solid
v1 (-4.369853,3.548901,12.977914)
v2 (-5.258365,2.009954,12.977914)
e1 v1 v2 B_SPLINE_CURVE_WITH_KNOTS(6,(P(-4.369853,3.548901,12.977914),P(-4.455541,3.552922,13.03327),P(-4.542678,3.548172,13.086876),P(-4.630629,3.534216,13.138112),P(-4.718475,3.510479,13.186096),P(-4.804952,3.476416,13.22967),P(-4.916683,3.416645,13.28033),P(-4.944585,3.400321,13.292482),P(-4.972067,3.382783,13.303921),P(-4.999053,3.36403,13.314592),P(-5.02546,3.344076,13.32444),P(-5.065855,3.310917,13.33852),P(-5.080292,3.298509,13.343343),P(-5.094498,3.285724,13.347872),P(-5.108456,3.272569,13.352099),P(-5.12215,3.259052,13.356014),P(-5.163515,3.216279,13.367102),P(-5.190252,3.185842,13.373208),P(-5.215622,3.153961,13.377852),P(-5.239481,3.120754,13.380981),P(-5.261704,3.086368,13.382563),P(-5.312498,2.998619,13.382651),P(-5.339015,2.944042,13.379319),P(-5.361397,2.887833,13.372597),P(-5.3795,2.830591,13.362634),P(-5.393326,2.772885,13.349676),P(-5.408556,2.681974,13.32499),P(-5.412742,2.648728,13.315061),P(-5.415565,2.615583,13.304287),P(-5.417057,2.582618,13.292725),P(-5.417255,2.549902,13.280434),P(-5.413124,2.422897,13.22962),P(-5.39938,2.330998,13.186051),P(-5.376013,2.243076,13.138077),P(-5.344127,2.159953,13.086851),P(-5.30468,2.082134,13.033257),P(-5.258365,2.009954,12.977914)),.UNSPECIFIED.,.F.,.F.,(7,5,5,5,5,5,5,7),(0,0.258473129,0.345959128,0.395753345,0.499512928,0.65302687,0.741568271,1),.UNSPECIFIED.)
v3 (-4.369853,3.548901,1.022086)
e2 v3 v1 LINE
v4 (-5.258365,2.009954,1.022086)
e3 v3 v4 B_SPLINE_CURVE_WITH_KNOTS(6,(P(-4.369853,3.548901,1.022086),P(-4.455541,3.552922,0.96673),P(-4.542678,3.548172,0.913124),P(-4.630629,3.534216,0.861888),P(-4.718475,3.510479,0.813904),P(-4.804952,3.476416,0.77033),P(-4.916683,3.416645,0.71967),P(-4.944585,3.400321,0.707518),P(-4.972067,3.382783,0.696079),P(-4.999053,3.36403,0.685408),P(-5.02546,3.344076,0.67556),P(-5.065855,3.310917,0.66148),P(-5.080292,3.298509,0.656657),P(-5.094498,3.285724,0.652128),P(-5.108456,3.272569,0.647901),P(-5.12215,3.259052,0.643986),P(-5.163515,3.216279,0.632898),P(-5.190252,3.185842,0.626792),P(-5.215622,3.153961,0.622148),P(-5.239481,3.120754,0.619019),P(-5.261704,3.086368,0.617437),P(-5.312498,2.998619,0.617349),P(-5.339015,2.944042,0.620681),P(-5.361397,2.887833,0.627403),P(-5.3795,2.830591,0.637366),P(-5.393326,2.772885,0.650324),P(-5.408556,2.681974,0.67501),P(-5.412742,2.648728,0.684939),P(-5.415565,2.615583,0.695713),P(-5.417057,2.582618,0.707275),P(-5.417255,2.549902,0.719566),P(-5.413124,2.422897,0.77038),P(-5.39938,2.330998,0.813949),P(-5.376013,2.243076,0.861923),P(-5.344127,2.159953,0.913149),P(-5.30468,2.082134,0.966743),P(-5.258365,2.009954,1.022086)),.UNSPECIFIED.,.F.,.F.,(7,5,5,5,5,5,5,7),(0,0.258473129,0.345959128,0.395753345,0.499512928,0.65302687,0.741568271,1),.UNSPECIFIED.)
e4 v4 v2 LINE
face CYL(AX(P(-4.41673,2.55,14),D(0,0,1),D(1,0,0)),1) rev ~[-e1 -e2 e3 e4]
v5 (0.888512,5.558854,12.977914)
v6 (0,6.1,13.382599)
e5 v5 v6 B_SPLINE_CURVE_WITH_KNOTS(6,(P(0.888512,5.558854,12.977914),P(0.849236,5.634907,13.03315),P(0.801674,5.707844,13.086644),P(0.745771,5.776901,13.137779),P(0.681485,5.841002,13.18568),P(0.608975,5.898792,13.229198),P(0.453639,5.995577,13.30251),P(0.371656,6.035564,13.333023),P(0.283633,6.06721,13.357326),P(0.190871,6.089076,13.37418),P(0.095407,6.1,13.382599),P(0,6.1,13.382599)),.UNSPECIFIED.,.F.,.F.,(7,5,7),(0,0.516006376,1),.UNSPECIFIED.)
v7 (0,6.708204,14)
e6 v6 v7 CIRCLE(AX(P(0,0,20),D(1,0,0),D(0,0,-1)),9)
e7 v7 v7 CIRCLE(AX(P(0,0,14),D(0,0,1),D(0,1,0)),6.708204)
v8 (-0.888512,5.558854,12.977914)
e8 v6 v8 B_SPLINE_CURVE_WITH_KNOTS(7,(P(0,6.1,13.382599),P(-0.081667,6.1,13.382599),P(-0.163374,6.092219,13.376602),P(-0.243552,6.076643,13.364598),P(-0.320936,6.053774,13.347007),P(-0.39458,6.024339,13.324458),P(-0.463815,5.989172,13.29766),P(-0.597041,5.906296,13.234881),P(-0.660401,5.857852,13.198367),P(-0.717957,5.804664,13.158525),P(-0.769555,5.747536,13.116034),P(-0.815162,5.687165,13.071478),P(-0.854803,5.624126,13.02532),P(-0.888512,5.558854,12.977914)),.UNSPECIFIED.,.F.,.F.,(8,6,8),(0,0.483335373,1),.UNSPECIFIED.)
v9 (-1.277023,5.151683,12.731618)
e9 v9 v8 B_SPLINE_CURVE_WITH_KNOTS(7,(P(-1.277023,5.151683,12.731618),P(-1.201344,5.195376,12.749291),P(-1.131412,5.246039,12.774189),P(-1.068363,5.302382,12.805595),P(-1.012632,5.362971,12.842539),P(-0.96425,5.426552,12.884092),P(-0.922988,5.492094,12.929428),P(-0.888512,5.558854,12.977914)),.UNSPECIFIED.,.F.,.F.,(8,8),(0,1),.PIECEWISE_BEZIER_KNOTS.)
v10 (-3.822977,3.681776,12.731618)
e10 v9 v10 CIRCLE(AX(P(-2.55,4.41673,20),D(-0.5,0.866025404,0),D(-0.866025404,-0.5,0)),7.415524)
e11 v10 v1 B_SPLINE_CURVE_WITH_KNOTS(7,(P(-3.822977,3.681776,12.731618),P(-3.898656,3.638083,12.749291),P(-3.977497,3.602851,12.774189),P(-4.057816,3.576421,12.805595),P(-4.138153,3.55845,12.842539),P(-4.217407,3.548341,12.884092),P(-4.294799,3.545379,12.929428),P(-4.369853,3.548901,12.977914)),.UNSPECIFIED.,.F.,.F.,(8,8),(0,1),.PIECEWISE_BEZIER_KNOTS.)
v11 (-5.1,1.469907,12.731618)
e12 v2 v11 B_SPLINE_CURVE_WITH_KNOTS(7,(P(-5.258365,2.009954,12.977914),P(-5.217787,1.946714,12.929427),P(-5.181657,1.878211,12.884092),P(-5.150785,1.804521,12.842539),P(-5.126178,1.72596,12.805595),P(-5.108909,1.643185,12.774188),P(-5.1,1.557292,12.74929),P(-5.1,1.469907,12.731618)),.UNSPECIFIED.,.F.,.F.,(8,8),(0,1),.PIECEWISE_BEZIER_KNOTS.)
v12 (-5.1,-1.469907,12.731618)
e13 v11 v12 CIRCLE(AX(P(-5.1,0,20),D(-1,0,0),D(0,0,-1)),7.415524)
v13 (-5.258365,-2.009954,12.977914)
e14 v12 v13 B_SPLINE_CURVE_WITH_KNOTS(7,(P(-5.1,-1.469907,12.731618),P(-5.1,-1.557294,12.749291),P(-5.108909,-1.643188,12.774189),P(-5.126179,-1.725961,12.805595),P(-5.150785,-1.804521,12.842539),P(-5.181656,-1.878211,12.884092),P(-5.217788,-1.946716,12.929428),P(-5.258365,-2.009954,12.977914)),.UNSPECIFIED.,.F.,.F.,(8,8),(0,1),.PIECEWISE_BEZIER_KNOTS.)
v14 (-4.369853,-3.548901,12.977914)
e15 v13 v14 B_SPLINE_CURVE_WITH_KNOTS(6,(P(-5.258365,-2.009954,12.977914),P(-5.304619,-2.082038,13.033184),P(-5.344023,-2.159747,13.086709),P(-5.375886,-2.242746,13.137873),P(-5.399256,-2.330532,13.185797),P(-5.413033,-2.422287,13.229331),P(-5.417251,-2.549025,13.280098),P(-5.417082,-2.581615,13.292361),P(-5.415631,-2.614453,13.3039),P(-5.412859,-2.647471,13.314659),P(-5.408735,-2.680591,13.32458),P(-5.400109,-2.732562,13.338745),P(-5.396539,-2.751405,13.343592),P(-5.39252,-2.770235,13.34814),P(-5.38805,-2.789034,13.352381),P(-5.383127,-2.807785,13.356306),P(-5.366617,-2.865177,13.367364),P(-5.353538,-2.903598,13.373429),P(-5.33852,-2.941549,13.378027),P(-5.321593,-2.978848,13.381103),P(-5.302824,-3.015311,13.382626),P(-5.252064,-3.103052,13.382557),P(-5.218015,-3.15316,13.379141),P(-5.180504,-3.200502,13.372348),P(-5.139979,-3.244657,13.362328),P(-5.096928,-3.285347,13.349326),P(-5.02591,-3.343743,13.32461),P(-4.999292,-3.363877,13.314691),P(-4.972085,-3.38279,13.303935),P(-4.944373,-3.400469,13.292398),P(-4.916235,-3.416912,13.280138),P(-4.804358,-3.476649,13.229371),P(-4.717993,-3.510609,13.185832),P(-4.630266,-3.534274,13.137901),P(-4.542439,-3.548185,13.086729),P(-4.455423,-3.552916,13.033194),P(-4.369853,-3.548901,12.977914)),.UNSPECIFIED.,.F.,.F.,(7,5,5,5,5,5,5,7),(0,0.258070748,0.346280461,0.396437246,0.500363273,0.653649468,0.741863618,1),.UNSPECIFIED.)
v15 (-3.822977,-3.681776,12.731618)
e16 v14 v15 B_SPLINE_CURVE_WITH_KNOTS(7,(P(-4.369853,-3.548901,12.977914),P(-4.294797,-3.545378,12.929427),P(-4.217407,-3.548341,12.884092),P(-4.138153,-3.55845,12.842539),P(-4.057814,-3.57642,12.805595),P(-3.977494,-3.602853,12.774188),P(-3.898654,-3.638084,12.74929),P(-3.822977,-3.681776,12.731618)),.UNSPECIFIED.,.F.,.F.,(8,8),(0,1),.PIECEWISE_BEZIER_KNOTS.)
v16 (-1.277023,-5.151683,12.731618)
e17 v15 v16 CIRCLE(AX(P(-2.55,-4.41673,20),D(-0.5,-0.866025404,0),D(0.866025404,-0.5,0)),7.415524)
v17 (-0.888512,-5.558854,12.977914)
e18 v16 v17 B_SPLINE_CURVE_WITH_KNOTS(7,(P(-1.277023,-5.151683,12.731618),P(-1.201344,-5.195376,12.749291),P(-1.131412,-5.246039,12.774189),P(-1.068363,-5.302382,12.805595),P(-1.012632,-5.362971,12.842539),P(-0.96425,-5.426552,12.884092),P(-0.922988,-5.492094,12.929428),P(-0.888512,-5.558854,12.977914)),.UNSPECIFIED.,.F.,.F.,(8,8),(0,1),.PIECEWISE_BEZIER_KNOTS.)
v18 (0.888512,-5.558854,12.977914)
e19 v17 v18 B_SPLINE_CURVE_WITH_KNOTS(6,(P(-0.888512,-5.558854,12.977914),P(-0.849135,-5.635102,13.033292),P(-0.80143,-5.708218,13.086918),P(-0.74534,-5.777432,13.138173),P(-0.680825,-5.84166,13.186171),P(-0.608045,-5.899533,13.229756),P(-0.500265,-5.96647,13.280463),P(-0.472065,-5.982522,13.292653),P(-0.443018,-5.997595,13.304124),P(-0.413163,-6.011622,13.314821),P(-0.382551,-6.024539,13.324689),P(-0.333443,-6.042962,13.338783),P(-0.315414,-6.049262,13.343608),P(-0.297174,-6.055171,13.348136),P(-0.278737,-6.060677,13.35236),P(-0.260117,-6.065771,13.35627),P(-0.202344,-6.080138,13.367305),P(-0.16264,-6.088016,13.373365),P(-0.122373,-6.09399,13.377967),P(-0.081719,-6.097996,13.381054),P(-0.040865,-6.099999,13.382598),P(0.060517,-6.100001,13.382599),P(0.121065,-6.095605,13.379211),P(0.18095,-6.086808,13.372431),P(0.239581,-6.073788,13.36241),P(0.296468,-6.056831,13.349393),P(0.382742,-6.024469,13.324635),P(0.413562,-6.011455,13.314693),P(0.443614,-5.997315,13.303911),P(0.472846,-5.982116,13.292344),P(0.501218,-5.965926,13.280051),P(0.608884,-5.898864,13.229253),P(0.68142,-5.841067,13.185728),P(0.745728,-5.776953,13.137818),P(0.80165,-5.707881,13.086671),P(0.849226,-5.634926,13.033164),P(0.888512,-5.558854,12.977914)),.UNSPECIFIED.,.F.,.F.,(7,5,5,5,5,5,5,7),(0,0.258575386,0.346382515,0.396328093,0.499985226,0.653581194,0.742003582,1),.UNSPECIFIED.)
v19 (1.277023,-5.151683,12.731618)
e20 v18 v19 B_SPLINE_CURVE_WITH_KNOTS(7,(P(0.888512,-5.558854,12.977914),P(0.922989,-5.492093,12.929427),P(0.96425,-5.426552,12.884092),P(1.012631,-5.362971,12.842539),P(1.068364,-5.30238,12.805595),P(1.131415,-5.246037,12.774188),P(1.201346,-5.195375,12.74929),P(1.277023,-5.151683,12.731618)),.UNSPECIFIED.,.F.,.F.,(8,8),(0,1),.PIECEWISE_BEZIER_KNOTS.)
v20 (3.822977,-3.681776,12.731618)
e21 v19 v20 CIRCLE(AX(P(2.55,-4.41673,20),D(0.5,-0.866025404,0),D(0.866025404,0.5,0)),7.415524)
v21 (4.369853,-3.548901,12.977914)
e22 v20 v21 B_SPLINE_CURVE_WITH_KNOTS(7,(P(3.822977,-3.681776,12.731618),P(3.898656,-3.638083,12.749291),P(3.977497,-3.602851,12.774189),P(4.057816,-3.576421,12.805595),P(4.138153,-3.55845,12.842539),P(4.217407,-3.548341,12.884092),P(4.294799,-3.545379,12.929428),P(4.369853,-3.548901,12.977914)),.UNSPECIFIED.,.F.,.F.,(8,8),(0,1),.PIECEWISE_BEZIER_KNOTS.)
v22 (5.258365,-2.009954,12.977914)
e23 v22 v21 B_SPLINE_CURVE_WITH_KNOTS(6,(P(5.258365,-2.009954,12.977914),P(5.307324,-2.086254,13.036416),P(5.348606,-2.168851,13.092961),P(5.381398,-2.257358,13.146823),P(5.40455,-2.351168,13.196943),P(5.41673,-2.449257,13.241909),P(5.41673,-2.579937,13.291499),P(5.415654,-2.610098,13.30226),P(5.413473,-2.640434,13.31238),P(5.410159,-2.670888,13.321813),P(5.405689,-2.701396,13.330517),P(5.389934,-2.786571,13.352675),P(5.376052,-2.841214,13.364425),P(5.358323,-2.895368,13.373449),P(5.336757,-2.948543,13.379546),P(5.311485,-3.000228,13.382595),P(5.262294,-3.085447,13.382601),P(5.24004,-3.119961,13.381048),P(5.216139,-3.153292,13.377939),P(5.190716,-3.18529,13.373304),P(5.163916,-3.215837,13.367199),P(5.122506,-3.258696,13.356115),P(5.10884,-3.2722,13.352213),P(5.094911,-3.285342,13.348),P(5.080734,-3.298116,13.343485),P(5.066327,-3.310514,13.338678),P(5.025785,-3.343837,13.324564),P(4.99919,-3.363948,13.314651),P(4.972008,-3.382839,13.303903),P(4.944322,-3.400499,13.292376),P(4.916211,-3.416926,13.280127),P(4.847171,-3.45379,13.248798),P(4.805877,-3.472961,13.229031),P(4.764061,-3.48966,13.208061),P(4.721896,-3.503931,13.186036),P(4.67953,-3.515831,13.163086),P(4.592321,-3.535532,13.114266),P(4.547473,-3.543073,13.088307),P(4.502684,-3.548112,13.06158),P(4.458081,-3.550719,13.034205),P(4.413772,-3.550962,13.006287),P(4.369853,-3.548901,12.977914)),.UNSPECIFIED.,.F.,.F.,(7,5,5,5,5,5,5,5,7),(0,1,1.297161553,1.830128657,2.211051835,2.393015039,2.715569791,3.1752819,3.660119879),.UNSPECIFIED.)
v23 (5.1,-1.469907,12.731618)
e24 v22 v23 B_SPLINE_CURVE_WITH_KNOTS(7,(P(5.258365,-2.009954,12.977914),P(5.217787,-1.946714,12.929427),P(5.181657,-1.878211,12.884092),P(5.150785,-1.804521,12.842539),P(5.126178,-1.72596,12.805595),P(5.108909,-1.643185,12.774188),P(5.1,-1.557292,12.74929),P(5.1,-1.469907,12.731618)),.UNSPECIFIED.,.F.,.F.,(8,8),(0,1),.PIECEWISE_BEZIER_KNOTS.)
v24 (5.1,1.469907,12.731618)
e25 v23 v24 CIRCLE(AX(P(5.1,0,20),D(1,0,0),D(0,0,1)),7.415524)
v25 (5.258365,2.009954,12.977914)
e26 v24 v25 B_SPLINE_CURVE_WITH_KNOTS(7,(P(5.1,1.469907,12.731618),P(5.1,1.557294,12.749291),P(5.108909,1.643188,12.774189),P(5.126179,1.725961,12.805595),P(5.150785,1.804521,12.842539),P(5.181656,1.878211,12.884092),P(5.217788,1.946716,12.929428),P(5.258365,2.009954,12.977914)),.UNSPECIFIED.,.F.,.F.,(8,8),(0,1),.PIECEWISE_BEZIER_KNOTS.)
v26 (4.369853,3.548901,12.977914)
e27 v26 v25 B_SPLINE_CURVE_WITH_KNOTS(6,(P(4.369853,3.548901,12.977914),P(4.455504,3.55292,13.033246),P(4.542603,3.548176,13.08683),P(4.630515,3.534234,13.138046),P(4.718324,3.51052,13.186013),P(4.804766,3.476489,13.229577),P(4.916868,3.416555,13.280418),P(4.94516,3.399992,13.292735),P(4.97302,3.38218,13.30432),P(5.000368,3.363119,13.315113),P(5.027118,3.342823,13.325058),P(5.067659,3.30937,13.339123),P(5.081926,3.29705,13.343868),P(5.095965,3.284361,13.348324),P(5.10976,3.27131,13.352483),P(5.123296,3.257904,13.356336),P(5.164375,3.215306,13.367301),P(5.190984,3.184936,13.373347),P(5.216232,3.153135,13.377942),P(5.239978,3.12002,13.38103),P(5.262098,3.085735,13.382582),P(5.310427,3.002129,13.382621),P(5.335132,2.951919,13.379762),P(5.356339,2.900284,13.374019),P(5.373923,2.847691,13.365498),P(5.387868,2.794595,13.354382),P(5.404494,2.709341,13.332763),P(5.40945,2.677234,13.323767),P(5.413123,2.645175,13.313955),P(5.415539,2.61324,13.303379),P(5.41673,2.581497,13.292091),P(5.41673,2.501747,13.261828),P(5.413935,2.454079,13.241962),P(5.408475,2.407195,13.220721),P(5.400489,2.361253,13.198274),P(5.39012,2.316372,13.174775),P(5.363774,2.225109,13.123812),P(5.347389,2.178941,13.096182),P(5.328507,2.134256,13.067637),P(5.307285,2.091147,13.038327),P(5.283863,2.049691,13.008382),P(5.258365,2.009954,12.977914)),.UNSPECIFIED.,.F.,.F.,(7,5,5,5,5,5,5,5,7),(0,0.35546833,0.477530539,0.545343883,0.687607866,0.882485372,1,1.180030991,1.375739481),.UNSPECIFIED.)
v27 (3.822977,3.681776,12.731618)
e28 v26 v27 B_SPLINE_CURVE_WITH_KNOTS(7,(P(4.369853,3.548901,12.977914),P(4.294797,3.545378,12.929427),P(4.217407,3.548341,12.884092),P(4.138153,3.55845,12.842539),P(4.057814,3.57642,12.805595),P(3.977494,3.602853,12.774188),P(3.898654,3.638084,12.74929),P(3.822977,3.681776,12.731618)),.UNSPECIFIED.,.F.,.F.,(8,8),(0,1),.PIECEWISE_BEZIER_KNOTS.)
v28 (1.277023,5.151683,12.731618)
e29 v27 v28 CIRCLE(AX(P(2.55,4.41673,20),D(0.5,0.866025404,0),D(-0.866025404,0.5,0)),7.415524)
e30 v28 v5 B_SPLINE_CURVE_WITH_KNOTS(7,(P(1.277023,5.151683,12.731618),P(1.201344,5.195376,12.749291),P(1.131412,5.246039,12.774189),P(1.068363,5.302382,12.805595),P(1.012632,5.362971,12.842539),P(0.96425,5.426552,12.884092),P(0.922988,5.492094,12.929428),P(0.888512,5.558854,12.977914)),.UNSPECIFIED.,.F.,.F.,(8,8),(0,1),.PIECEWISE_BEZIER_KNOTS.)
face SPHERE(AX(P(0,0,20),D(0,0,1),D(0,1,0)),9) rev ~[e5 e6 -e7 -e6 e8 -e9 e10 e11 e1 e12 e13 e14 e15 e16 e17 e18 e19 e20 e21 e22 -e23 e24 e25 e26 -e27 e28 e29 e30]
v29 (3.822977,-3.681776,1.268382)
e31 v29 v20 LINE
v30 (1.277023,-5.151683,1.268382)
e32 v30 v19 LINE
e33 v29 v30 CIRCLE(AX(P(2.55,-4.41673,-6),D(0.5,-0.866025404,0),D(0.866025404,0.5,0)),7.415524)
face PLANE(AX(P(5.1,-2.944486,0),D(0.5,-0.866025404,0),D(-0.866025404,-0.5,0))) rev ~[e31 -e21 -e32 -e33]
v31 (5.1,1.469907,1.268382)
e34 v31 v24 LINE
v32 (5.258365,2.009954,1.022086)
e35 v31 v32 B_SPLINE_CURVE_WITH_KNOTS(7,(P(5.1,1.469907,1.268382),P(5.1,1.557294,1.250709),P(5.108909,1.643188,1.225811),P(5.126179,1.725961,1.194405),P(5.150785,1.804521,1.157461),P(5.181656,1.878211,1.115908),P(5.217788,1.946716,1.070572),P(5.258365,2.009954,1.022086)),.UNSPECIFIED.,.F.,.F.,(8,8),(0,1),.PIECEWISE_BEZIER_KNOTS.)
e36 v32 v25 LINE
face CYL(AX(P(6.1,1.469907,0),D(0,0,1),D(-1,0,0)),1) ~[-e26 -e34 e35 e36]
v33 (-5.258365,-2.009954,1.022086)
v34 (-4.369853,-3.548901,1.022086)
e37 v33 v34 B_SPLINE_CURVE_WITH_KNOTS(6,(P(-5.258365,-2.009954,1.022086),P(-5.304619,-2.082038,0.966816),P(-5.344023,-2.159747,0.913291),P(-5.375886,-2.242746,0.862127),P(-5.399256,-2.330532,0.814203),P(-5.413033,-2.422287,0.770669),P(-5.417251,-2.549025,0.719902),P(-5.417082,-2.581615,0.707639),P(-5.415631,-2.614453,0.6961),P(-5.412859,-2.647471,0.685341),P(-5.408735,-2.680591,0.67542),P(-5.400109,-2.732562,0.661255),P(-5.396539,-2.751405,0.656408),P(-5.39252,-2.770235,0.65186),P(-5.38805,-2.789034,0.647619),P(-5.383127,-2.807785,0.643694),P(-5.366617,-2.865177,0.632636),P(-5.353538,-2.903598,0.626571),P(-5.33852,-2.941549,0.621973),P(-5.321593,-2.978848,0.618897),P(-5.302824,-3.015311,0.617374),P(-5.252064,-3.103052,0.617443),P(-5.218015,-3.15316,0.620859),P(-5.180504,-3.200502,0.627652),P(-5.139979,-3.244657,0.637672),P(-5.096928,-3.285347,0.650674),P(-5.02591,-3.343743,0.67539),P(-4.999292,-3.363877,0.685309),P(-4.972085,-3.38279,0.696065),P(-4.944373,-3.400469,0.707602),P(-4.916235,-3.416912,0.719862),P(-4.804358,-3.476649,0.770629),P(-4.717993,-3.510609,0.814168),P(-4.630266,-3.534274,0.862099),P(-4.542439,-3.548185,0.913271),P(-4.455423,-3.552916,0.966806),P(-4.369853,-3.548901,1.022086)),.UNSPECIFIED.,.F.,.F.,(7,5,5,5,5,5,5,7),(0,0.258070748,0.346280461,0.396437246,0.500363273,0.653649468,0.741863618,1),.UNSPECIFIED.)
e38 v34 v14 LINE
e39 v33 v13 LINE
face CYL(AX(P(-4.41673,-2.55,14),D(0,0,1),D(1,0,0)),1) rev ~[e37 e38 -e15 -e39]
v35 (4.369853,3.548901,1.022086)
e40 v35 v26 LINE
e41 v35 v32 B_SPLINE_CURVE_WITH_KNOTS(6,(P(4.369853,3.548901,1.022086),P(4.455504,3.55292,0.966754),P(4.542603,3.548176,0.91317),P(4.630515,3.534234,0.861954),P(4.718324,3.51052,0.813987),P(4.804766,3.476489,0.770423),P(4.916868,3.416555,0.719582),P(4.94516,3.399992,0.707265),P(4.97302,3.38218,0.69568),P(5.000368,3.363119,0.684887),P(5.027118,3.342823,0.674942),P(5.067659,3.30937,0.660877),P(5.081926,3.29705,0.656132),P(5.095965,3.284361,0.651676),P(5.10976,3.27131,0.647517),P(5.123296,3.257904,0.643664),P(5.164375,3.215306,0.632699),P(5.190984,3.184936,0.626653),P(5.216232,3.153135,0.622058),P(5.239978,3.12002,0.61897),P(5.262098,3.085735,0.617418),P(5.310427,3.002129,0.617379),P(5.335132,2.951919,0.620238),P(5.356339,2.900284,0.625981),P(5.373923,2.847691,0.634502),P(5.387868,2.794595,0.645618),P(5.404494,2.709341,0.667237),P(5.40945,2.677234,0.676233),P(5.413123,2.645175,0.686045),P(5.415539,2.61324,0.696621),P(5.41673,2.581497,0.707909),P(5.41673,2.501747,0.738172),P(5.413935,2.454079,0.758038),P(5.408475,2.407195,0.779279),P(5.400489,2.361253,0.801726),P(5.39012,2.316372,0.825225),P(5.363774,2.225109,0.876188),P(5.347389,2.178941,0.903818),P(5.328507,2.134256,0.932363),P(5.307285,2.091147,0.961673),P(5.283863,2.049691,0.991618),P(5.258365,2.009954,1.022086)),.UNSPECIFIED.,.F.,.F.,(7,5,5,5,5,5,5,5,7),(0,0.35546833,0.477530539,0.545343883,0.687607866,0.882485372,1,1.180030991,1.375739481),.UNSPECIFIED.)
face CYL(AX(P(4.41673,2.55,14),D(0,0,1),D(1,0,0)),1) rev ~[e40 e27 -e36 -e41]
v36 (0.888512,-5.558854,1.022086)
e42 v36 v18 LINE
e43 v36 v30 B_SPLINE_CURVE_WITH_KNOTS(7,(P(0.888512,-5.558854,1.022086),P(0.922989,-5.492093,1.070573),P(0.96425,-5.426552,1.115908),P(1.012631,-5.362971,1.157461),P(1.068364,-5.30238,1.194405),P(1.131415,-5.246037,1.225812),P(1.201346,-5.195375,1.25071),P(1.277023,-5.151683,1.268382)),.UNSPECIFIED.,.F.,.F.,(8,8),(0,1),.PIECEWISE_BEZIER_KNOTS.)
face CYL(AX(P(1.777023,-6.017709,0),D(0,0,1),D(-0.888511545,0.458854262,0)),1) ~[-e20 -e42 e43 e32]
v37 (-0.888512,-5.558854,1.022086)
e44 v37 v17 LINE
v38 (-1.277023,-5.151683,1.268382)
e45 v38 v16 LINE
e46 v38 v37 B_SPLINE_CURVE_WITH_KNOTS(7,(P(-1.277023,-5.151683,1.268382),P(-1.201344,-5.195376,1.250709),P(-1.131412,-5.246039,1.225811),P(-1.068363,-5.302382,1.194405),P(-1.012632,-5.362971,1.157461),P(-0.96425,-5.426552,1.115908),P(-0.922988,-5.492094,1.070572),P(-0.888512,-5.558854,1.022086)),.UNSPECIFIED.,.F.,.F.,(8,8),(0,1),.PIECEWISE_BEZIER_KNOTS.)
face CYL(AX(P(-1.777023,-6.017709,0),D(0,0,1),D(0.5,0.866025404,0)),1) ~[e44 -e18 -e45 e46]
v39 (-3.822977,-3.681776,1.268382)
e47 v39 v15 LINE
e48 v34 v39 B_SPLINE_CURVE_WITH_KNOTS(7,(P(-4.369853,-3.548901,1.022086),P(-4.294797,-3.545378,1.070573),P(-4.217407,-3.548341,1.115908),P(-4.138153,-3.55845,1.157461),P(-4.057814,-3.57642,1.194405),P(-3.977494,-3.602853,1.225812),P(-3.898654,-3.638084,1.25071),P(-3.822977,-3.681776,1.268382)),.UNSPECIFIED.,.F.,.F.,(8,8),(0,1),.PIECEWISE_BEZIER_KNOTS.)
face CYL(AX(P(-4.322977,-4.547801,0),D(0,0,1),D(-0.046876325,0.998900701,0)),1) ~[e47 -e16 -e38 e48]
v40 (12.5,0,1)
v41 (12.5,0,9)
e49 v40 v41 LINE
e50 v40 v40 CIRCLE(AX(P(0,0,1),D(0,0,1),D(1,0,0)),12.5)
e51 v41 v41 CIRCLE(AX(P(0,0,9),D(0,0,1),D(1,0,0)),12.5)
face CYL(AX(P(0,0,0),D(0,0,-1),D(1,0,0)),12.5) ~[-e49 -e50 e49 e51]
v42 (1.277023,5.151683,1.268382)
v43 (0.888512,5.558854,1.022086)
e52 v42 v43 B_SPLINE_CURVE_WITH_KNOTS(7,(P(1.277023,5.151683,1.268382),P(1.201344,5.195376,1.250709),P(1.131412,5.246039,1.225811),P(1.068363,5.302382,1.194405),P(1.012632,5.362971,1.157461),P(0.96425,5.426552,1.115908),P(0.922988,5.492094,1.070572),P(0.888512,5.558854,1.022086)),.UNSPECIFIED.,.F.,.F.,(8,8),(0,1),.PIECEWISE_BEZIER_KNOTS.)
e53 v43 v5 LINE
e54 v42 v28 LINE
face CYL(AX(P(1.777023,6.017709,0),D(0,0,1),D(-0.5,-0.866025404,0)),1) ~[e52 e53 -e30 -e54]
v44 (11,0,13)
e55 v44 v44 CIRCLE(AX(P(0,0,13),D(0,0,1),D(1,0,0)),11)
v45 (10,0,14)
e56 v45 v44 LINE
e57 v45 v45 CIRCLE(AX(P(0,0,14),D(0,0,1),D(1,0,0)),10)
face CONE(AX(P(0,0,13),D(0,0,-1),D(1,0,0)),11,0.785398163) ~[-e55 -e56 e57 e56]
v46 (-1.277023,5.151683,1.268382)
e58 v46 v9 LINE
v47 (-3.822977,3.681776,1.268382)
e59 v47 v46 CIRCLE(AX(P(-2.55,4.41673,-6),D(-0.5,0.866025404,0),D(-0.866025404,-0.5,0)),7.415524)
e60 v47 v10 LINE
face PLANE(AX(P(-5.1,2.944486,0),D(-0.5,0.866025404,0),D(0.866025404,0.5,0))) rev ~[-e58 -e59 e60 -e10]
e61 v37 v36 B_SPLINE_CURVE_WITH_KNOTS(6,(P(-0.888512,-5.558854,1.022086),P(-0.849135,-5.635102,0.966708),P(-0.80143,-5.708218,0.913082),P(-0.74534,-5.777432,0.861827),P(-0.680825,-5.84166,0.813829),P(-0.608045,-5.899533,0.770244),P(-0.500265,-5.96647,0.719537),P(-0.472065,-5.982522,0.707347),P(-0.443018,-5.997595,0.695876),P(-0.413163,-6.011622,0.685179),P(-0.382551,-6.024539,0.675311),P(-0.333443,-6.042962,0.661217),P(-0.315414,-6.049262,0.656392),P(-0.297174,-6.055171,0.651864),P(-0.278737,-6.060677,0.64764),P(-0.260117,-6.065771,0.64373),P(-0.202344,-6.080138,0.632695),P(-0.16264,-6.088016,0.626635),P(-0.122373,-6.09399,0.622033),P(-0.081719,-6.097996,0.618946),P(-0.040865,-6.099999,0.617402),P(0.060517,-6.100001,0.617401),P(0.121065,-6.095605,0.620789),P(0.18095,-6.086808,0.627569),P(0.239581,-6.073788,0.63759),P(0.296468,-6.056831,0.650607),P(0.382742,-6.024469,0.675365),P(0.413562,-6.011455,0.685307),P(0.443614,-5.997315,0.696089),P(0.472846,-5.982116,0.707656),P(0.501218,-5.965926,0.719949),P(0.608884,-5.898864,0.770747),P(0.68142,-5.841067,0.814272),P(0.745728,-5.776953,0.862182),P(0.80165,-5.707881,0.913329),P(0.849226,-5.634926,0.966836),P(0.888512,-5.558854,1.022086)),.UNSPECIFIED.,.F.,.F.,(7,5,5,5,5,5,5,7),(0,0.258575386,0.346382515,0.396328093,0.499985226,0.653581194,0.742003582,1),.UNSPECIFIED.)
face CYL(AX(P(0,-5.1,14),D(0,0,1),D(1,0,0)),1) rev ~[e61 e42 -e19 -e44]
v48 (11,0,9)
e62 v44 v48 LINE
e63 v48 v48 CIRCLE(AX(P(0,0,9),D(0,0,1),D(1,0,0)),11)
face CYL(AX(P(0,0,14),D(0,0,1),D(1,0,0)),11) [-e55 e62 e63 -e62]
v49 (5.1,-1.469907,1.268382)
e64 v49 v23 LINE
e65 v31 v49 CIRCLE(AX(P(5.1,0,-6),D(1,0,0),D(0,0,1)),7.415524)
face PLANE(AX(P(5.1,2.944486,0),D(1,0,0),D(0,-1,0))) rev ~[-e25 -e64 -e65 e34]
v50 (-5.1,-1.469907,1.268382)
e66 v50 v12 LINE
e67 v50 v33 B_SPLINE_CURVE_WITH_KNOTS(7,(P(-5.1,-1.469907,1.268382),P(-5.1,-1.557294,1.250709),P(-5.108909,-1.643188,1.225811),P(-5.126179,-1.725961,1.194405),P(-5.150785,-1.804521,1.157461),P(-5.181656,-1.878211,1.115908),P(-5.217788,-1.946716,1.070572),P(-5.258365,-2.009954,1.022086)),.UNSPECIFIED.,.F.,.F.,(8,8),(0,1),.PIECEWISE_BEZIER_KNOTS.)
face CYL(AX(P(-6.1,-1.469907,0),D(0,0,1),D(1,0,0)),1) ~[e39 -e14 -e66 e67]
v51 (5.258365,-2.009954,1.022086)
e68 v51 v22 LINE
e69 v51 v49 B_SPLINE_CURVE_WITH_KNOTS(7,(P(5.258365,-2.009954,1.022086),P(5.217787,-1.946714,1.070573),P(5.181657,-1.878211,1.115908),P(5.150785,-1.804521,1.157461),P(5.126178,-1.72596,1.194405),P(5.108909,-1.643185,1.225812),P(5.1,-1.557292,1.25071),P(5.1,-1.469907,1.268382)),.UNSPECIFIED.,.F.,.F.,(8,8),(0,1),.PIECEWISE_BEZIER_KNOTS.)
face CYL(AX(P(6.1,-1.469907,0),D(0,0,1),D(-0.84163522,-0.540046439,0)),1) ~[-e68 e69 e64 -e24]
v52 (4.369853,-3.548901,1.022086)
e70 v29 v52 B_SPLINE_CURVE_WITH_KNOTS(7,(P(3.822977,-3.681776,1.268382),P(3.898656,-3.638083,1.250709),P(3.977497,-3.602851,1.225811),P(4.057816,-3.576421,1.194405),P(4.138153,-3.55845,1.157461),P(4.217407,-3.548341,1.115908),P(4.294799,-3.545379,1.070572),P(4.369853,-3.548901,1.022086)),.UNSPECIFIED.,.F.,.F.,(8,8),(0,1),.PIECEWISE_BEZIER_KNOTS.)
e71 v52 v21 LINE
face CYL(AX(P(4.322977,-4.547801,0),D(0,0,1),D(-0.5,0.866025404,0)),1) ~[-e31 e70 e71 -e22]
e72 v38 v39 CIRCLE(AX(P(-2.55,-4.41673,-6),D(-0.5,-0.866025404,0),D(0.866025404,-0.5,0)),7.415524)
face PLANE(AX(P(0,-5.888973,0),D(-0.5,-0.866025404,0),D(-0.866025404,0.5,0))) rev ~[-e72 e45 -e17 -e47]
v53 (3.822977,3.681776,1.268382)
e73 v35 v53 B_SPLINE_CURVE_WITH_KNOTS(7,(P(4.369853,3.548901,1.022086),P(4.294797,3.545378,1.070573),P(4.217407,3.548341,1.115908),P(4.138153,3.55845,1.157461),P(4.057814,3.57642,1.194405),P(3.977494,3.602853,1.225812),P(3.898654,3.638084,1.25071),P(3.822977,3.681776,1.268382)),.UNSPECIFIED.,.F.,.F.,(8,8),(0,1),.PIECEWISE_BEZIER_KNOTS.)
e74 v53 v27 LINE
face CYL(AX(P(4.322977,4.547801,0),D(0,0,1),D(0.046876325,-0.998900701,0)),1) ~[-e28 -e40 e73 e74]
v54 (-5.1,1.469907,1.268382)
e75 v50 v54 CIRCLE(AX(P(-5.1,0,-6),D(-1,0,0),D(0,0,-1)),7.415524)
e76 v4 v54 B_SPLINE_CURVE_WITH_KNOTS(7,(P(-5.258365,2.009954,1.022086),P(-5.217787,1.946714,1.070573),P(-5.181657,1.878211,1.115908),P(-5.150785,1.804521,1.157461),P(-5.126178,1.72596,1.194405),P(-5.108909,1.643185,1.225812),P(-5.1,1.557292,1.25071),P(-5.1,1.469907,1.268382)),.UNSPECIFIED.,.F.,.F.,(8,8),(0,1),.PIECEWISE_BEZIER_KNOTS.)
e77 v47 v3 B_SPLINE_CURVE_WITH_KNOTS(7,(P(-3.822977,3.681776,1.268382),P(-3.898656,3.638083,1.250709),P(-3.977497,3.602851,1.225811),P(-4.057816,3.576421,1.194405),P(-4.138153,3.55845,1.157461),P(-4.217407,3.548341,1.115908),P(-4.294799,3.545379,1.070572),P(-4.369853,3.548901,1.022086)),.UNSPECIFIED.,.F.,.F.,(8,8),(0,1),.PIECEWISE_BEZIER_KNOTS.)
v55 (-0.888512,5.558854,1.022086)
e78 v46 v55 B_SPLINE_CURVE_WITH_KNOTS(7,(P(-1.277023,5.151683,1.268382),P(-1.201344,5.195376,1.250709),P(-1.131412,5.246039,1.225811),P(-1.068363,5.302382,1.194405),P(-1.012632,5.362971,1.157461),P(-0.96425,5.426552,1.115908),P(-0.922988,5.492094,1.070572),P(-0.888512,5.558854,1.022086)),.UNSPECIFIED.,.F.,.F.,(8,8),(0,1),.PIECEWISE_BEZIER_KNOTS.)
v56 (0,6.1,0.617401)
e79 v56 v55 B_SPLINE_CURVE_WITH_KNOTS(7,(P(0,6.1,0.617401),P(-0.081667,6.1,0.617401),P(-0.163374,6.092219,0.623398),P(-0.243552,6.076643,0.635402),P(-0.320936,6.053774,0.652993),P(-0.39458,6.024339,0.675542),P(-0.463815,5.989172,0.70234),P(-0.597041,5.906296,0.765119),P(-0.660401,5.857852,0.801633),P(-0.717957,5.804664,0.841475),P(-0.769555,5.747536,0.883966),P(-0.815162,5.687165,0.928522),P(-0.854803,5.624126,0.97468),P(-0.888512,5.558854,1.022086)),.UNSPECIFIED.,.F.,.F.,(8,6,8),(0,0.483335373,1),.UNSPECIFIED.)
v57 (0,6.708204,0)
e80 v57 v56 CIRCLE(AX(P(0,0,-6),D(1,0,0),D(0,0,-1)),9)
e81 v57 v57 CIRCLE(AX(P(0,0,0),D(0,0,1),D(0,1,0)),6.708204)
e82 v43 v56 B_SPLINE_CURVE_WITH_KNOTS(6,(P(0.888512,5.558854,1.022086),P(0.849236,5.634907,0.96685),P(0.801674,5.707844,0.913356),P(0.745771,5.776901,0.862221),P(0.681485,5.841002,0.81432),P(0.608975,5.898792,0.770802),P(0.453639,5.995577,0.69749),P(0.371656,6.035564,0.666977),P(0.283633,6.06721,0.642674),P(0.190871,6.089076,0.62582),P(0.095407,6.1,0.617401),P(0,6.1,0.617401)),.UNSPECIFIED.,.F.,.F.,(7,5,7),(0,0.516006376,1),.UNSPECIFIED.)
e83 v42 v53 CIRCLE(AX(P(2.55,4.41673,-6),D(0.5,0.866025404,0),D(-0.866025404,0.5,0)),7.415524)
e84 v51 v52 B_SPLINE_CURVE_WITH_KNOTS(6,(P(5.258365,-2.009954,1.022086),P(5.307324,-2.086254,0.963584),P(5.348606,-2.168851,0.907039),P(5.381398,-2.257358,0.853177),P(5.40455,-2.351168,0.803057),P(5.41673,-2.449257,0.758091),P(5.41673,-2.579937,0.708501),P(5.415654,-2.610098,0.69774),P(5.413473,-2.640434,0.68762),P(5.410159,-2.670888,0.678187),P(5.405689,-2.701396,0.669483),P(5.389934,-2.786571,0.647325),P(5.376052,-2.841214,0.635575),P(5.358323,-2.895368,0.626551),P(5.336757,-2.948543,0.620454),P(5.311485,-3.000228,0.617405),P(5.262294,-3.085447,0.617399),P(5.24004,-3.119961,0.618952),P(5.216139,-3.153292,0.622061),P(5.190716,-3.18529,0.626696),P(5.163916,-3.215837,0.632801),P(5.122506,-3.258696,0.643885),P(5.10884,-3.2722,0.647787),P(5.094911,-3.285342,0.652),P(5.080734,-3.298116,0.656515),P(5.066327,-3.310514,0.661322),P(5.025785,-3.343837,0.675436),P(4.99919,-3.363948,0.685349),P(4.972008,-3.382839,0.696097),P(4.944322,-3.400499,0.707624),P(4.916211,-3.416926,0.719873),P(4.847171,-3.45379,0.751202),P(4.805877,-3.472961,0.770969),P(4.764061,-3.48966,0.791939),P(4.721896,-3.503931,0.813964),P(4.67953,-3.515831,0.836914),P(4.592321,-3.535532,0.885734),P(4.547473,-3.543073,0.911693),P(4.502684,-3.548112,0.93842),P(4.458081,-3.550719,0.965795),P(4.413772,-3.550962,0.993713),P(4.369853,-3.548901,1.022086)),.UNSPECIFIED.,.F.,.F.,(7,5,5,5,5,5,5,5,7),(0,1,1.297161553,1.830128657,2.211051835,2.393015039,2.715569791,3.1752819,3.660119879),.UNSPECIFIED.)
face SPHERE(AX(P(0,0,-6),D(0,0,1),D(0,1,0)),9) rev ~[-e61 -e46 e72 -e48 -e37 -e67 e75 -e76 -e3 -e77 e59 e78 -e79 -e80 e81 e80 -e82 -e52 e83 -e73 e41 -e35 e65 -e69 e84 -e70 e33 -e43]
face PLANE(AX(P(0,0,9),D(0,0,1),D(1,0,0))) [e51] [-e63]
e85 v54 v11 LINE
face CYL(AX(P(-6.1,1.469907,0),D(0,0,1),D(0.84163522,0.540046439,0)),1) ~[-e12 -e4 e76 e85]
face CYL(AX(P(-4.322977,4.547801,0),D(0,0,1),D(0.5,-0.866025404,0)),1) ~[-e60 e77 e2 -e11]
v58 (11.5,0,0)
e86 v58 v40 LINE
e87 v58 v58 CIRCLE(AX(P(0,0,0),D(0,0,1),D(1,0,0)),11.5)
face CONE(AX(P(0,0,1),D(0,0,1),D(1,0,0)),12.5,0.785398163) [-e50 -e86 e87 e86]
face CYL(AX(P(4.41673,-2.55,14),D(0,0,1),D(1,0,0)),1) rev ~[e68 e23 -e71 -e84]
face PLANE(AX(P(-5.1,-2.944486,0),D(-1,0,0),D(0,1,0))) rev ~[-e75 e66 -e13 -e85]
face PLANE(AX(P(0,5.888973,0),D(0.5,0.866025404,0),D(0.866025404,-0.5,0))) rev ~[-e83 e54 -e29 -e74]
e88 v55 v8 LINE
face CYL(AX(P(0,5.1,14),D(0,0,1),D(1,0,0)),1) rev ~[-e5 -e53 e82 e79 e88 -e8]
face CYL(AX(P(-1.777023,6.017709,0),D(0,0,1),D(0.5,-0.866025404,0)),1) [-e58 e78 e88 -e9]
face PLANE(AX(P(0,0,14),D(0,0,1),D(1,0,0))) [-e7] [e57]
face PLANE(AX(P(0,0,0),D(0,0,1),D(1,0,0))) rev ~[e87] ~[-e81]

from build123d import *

# Parameters (mm, degrees)
F0_R     = 12.5
F1_DEPTH = 14
F2_R     = 12.5
F2_R_2   = 11
F3_DEPTH = 5
F4_R     = 1
F5_DEPTH = 14.001
F6_R     = 1
F7_SIZE  = 1


with BuildPart() as f1:
    # F0 (on Top) → F1 (new body)
    with BuildSketch(Plane.XY):
        Circle(F0_R)
        Polygon((5.1, 2.9444863729), (5.1, -2.9444863729), (0, -5.8889727457), (-5.1, -2.9444863729), (-5.1, 2.9444863729), (0, 5.8889727457), align=None, mode=Mode.SUBTRACT)
    extrude(amount=F1_DEPTH)

    # F2 (on face) → F3 (cut)
    with BuildSketch(Plane.XY.offset(14)):
        Circle(F2_R)
        Circle(F2_R_2, mode=Mode.SUBTRACT)
    extrude(amount=-F3_DEPTH, mode=Mode.SUBTRACT)

    # F4 (on face) → F5 (cut, through all)
    with BuildSketch(Plane.XY.offset(14)):
        with Locations((0, 5.1)):
            Circle(F4_R)
        with Locations((-4.4167295593, 2.55)):
            Circle(F4_R)
        with Locations((-4.4167295593, -2.55)):
            Circle(F4_R)
        with Locations((0, -5.1)):
            Circle(F4_R)
        with Locations((4.4167295593, -2.55)):
            Circle(F4_R)
        with Locations((4.4167295593, 2.55)):
            Circle(F4_R)
    extrude(amount=-F5_DEPTH, mode=Mode.SUBTRACT)

    # F6
    f6_edges = [f1.edges().sort_by_distance(p)[0] for p in [
        (-5.1, 1.819835, 7),
        (-5.1, -1.819835, 7),
        (-4.126023, -3.506812, 7),
        (-0.973977, -5.326647, 7),
        (0.973977, -5.326647, 7),
        (4.126023, -3.506812, 7),
        (5.1, -1.819835, 7),
        (5.1, 1.819835, 7),
        (4.126023, 3.506812, 7),
        (0.973977, 5.326647, 7),
        (-0.973977, 5.326647, 7),
        (-4.126023, 3.506812, 7),
    ]]
    fillet(f6_edges, radius=F6_R)

    # F7
    f7_edges = [f1.edges().sort_by_distance(p)[0] for p in [
        (-11, 0, 14),
        (-12.5, 0, 0),
    ]]
    chamfer(f7_edges, length=F7_SIZE)

    # F8 (on Right) → F9 (revolve, cut)
    with BuildSketch(Plane.YZ):
        with BuildLine():
            Line((0, 3), (0, -15))
            ThreePointArc((0, -15), (9, -6), (0, 3))
        make_face()
        with BuildLine():
            Line((0, 29), (0, 11))
            ThreePointArc((0, 11), (9, 20), (0, 29))
        make_face()
    revolve(axis=Axis((0, 0, -6), (0, 0, 1)), mode=Mode.SUBTRACT)


solid = f1.part
